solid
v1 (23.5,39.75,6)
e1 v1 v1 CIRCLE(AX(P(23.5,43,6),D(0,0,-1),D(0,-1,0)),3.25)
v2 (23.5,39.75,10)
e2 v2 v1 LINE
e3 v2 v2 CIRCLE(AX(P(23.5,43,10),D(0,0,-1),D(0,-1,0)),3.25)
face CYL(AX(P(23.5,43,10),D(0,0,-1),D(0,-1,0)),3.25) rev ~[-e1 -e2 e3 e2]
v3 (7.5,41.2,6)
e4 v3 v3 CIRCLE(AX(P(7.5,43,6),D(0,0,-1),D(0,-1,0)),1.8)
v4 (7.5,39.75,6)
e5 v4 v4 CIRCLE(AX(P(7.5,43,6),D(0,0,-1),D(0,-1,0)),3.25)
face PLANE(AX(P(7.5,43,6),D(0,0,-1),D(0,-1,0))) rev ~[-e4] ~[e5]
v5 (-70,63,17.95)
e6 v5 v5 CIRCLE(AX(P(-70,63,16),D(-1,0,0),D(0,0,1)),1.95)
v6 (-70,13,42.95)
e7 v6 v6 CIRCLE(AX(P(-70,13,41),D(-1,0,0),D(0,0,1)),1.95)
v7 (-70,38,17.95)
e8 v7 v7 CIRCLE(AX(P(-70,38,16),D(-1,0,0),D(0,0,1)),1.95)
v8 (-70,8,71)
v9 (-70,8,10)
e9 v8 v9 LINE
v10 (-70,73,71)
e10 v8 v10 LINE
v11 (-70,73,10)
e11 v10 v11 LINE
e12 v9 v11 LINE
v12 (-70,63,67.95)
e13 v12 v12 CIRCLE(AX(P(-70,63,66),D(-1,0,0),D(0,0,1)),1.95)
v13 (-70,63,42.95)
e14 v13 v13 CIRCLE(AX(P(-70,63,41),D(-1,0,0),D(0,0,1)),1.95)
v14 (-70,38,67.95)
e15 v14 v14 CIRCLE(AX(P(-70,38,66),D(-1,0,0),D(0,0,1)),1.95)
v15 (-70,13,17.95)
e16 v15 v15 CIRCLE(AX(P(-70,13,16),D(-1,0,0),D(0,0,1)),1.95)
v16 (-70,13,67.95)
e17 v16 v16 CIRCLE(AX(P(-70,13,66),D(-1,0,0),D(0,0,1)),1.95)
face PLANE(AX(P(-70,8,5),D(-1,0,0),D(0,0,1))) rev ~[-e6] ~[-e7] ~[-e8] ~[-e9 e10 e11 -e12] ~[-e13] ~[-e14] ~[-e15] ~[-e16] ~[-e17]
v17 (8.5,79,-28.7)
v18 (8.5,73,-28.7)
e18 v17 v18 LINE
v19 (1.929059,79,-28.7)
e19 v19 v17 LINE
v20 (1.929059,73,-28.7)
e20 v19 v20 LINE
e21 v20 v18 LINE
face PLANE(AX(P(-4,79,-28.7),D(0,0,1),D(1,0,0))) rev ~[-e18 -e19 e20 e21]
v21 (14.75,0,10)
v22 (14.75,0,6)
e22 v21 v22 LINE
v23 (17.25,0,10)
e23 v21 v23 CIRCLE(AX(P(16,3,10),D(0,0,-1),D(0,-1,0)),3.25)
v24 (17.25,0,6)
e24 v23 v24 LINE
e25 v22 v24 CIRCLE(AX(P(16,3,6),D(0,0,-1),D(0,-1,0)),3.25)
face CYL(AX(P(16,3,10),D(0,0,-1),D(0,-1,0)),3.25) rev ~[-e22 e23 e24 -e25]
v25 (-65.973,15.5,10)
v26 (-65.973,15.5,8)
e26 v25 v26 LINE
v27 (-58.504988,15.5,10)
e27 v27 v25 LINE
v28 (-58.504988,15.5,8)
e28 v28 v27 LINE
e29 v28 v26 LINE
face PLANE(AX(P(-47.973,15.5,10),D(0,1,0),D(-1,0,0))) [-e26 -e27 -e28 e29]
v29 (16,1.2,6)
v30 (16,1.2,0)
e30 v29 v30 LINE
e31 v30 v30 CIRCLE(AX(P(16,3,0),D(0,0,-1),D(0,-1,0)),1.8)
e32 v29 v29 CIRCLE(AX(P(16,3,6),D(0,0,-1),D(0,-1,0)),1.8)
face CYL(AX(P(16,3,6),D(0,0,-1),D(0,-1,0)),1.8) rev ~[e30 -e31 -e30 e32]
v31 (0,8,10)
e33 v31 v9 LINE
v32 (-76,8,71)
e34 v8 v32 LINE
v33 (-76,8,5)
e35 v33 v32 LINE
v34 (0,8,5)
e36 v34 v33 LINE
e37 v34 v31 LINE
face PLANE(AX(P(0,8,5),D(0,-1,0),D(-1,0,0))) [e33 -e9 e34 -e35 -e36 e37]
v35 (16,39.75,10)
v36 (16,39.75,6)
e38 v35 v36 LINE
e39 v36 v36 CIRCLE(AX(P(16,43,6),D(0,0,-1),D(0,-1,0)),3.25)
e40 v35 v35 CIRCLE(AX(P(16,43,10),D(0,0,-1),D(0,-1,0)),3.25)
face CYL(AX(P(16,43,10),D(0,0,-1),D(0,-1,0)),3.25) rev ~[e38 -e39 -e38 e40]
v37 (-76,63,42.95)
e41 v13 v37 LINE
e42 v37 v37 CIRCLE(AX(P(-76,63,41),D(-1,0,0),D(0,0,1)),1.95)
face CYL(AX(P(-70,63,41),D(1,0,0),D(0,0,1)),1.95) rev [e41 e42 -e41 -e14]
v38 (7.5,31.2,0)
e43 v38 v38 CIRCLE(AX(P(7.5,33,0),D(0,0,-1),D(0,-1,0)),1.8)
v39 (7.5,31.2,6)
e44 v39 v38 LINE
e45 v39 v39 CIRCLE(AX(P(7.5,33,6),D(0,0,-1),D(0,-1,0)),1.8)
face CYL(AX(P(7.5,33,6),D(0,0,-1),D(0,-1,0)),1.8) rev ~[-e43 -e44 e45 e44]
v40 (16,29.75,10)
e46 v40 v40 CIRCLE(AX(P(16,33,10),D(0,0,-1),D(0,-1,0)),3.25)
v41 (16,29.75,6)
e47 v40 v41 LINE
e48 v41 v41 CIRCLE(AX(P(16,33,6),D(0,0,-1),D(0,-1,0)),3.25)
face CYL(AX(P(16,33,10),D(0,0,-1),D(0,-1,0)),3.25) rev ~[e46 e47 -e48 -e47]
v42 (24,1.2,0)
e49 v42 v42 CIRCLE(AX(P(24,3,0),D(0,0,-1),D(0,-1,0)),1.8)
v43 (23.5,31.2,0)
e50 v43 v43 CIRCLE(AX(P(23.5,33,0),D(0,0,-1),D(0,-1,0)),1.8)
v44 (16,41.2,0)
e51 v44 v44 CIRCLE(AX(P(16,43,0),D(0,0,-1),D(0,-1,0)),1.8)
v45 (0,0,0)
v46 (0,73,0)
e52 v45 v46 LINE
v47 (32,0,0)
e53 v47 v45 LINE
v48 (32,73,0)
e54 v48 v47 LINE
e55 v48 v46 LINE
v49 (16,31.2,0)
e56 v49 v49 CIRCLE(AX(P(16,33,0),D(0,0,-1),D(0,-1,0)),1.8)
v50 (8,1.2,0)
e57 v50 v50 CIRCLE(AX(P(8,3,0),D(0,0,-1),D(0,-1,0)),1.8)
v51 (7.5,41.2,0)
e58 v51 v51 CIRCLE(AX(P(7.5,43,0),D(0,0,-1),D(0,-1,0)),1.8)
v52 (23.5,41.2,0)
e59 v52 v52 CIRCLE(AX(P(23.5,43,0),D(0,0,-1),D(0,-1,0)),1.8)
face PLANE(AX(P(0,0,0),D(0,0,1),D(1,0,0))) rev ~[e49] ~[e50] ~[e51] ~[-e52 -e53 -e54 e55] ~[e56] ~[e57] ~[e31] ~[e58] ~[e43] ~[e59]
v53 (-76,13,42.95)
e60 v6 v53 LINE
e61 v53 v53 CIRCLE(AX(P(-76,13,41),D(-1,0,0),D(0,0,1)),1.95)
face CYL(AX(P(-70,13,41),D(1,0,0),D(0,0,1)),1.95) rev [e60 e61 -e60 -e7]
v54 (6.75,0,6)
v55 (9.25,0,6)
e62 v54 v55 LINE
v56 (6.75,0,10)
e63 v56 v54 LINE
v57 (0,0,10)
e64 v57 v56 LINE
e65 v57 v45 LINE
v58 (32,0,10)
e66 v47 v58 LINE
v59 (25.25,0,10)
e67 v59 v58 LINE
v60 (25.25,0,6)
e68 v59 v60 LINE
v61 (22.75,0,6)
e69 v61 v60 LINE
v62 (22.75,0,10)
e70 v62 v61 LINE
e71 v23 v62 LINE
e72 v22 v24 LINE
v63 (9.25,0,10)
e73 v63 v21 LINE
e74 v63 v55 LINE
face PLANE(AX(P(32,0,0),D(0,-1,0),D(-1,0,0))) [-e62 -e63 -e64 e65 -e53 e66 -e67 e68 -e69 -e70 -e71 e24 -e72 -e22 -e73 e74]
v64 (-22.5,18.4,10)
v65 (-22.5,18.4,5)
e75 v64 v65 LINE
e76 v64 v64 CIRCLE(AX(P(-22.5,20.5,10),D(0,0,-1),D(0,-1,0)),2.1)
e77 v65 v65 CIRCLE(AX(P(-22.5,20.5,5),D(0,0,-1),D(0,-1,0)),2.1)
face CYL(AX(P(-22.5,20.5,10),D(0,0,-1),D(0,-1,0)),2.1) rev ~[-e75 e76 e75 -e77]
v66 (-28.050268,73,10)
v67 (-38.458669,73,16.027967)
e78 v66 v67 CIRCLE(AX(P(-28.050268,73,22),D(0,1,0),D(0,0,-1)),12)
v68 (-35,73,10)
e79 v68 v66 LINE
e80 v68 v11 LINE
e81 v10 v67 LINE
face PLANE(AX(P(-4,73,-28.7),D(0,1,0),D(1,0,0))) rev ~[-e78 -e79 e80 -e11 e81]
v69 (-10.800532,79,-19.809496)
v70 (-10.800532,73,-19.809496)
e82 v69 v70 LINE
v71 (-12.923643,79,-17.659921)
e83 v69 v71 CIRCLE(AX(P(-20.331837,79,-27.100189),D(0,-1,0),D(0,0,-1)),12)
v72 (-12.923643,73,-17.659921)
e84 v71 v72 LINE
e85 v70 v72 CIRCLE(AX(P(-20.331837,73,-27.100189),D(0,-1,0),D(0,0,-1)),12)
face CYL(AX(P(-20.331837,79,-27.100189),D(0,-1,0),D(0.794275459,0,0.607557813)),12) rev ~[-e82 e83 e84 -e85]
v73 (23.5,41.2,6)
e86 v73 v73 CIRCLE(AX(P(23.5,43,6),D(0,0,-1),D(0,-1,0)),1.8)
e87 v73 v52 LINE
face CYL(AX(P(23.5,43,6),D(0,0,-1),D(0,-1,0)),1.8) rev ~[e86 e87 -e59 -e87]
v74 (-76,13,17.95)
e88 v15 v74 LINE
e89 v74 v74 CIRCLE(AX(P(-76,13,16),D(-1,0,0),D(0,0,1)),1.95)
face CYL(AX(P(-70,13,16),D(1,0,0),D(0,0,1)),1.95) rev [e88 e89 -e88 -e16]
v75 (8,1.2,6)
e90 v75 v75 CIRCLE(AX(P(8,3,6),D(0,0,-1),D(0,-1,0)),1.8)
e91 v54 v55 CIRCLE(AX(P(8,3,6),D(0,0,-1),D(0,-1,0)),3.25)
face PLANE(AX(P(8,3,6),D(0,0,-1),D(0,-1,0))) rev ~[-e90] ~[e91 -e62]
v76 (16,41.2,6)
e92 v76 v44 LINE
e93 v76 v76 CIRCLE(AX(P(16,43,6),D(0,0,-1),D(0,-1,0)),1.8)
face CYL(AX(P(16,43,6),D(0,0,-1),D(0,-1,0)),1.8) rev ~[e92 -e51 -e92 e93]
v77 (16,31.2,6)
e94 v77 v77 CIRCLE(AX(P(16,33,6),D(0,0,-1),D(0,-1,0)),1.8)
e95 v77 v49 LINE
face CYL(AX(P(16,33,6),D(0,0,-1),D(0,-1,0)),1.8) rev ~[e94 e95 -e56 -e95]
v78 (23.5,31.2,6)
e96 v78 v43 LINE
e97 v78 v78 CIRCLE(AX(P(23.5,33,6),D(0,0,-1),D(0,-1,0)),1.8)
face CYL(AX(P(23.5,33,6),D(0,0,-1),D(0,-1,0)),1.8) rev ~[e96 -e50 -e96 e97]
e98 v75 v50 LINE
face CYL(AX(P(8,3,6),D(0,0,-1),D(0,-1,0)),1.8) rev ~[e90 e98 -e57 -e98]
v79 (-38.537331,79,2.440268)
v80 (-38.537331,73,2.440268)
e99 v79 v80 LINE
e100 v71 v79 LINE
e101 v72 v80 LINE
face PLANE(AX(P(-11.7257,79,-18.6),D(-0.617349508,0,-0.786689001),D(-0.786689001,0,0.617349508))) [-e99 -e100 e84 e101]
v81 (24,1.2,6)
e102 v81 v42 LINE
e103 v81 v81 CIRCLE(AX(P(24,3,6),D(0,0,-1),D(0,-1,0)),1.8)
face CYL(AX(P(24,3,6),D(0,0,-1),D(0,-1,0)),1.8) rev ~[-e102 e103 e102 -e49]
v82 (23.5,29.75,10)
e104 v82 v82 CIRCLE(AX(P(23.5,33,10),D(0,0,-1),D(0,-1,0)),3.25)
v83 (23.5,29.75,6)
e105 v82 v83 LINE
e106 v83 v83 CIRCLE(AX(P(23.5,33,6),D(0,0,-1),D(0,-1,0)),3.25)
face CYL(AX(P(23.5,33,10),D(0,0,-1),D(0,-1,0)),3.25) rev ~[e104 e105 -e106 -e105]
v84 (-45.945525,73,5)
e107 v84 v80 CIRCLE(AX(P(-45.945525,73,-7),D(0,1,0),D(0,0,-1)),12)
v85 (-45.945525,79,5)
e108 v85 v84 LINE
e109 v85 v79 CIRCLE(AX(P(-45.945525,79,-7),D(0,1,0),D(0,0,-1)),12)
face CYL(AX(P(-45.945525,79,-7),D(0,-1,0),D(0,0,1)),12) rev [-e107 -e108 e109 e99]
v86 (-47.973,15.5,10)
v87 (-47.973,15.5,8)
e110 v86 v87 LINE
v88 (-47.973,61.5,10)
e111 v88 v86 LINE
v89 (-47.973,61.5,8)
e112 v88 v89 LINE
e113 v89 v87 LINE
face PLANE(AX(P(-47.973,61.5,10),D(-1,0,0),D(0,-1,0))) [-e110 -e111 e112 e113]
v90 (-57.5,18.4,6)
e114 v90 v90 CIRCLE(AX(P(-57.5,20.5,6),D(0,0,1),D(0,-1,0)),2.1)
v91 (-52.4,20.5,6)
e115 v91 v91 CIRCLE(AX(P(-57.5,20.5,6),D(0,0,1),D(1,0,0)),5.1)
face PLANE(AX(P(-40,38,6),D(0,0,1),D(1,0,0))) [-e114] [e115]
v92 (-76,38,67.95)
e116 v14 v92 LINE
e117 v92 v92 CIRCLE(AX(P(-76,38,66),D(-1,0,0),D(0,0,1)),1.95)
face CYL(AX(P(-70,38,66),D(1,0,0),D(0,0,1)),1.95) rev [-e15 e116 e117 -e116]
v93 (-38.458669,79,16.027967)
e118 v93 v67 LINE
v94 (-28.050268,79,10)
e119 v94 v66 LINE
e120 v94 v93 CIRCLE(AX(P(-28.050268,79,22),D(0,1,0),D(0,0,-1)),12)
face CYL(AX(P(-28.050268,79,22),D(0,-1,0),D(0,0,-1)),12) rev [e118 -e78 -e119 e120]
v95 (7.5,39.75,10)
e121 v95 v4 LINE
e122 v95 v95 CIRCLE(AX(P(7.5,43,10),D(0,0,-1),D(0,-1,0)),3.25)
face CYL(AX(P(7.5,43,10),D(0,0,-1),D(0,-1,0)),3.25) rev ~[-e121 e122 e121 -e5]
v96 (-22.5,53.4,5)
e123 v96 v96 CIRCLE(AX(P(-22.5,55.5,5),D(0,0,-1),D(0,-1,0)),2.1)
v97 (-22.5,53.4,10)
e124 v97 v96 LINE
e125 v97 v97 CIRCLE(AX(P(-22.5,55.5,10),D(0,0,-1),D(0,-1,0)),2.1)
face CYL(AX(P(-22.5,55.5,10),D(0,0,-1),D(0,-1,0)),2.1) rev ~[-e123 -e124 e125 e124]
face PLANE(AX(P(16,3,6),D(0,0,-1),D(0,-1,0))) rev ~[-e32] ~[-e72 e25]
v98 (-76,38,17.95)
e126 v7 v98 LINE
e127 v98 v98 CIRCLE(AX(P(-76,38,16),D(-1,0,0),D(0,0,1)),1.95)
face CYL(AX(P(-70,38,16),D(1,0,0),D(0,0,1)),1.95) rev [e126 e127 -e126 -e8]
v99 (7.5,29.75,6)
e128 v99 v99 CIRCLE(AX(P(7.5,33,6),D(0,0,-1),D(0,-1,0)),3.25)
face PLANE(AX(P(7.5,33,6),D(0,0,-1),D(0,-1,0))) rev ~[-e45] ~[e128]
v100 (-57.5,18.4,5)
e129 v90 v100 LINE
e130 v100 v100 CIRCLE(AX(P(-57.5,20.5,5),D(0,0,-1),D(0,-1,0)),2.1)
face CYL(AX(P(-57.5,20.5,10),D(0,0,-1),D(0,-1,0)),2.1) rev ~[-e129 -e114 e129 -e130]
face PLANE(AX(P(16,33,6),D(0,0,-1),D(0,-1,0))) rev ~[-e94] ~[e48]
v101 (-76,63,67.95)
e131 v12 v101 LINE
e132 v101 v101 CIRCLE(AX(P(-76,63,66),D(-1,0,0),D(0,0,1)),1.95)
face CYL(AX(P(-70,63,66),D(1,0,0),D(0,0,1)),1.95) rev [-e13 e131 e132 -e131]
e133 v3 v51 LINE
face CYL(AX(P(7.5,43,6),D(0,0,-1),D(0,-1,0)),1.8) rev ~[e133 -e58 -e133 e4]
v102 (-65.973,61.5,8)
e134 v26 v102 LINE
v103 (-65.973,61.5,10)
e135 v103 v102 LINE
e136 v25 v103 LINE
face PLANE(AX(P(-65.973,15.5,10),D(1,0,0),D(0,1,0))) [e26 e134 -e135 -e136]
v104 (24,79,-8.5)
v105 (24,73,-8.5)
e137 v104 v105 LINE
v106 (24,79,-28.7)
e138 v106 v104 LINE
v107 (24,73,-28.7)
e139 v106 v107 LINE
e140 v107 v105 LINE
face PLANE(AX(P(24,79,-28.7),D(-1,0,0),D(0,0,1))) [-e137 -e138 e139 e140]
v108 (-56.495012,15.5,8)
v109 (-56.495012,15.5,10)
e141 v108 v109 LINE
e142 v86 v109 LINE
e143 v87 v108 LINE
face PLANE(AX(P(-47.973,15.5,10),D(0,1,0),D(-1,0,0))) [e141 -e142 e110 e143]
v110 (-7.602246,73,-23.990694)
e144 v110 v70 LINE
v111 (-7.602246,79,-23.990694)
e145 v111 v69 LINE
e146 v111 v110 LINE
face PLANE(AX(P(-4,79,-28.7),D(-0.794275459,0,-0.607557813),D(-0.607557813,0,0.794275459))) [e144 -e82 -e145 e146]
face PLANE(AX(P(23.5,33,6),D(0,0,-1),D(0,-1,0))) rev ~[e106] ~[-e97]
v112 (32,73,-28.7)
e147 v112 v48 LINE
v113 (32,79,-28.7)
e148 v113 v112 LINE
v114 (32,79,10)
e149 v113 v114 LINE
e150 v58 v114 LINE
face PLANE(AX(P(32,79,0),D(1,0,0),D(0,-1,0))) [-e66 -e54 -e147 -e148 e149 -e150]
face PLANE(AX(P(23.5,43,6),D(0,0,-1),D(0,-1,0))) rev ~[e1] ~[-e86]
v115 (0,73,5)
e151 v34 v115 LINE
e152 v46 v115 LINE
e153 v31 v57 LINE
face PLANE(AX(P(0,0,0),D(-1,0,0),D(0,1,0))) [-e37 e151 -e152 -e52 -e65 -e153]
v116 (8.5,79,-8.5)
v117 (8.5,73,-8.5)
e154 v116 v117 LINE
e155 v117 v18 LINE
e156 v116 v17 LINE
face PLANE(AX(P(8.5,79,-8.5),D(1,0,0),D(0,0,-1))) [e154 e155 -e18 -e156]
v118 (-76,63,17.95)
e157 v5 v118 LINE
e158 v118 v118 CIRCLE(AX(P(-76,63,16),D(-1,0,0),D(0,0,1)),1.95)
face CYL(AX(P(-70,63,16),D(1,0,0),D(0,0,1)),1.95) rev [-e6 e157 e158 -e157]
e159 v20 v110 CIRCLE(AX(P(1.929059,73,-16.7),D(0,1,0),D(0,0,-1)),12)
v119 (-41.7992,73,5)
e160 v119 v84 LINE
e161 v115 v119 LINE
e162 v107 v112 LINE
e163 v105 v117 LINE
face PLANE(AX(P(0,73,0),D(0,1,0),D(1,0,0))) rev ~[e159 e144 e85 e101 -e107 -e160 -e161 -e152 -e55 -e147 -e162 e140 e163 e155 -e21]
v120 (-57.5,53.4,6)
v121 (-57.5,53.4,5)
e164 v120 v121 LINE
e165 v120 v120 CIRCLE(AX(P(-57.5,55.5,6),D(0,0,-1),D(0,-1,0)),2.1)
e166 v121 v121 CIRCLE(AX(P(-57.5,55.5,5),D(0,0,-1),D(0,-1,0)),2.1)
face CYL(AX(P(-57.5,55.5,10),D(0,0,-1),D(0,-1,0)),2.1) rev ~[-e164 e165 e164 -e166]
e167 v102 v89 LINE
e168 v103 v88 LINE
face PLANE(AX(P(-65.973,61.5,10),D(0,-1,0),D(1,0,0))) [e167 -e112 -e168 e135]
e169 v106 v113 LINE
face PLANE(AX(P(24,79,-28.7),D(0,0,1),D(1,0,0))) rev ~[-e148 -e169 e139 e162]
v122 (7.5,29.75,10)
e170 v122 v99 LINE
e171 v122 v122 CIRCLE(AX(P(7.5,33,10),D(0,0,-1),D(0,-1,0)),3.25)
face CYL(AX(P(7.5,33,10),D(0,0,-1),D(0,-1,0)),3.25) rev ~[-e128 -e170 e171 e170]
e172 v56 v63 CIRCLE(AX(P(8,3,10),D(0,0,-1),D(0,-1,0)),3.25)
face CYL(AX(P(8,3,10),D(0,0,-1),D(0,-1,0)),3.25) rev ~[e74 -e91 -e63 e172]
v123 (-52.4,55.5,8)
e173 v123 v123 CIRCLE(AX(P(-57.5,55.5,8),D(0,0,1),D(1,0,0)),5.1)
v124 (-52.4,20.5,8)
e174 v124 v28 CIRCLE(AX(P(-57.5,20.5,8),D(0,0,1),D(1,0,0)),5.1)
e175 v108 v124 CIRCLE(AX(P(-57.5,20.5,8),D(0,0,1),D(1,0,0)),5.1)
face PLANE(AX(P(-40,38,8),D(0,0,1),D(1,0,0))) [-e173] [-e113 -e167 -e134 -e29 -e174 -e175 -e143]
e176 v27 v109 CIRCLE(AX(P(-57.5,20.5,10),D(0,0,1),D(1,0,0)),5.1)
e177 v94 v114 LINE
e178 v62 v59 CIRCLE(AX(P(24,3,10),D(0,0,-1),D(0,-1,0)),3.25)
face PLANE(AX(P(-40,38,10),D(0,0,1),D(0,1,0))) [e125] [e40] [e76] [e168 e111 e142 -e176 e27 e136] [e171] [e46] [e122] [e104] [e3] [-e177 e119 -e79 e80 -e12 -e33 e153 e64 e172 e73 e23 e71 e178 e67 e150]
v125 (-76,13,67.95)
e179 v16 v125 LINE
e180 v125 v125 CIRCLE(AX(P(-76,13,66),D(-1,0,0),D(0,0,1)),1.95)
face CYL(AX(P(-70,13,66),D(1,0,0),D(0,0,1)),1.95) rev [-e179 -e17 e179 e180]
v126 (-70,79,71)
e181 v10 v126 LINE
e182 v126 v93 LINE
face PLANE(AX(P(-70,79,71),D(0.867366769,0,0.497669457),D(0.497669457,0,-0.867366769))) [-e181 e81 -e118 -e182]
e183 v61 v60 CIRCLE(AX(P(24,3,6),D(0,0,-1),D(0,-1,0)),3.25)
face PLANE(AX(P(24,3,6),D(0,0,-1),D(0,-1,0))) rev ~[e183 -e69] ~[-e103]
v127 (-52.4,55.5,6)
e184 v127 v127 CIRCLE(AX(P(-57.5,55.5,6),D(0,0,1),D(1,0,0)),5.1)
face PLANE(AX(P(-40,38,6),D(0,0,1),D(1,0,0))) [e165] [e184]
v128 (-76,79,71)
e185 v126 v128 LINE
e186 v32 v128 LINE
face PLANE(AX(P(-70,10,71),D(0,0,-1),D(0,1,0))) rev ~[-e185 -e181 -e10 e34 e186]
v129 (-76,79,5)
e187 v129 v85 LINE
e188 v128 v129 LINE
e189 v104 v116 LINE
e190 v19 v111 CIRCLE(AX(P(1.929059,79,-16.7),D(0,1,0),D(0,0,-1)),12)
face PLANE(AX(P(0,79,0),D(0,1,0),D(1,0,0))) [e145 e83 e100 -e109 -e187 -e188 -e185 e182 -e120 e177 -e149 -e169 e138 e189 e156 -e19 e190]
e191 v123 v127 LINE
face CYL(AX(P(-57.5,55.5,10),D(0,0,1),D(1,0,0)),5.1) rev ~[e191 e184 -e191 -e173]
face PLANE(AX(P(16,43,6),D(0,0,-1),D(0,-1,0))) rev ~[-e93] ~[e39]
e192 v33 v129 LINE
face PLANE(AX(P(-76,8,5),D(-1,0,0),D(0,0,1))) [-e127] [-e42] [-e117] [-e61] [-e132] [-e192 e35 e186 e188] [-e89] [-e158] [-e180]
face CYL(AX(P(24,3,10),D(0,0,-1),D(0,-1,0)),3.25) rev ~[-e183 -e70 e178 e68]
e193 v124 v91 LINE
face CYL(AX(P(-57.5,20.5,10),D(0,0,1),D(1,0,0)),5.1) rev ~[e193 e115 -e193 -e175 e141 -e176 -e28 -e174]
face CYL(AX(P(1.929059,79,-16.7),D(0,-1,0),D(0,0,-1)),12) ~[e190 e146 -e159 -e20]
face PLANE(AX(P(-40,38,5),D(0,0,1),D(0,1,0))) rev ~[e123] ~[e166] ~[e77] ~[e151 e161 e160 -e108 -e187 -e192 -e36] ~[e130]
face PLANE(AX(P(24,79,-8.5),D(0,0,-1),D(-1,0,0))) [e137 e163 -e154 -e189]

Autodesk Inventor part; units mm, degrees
ref_plane "YZ Plane" through (0, 0, 0) normal (1, 0, 0) x (0, 1, 0)
ref_plane "XZ Plane" through (0, 0, 0) normal (0, 1, 0) x (-1, 0, 0)
ref_plane "Work Plane1" through (0, 0, 0) normal (0, 0, 1) x (1, 0, 0)
sketch "Sketch1" plane through (0, 0, 0) normal (0, 0, 1) x (1, 0, 0)
  circle A0 centre (23.5, 33) radius 1 construction
  circle A1 centre (23.5, 43) radius 1 construction
  circle A2 centre (24, 3) radius 1 construction
  circle A3 centre (8, 3) radius 1 construction
  circle A4 centre (16, 33) radius 1 construction
  circle A5 centre (16, 43) radius 1 construction
  circle A6 centre (7.5, 43) radius 1 construction
  circle A7 centre (7.5, 33) radius 1.0474 construction
  circle A8 centre (16, 3) radius 1 construction
  line L0 (32, 0) -> (0, 0) construction
  line L1 (32, 0) -> (32, 48) construction
  line L2 (0, 48) -> (32, 48) construction
  line L3 (0, 0) -> (0, 48) construction
  line L4 (7.5277, 79) -> (26, 79) construction
  line L5 (26, 78) -> (7.5277, 78) construction
  line L6 (32, 0) -> (0, 0)
  line L7 (0, 0) -> (0, 79)
  line L8 (0, 79) -> (32, 79)
  line L9 (32, 79) -> (32, 0)
ref_plane "Work Plane2" through (-70, 8, 5) normal (0, 0, 1) x (1, 0, 0)
extrude "Extrusion1" add sketch "Sketch1" along normal up to surface (5 mm away)
ref_plane "Work Plane3" through (-40, 38, 5) normal (0, 0, 1) x (0, 1, 0)
sketch "Sketch2" plane through (-40, 38, 5) normal (0, 0, 1) x (0, 1, 0)
  line L0 (28, 30) -> (30, 28) construction
  line L1 (28, 30) -> (-28, 30) construction
  line L2 (-30, 28) -> (-28, 30) construction
  line L3 (-30, 28) -> (-30, -28) construction
  line L4 (-28, -30) -> (-30, -28) construction
  line L5 (-28, -30) -> (28, -30) construction
  line L6 (30, -28) -> (28, -30) construction
  line L7 (30, -28) -> (30, 28) construction
  circle A0 centre (-17.5, -17.5) radius 1.95 construction
  circle A1 centre (17.5, 17.5) radius 1.95 construction
  circle A2 centre (17.5, -17.5) radius 1.95 construction
  circle A3 centre (-17.5, 17.5) radius 1.95 construction
  circle A4 centre (0, 0) radius 7.5 construction
  line L8 (-38, -40) -> (41, -40) construction
  line L9 (-38, -72) -> (-38, -40) construction
  line L10 (41, -72) -> (-38, -72) construction
  line L11 (41, -40) -> (41, -72) construction
  line L12 (41, -40) -> (-30, -40)
  line L13 (-30, -40) -> (-30, 30)
  line L14 (-30, 30) -> (41, 30)
  line L15 (41, 30) -> (41, -40)
  line L16 (41, -72) -> (-38, -72) projected
  line L17 (41, -40) -> (-38, -40)
  line L18 (-38, -40) -> (-38, -72)
  line L19 (-38, -72) -> (41, -72)
  line L20 (41, -72) -> (41, -40)
  point P0 (-38, -40)
  point P1 (41, -50.5)
extrude "Extrusion2" add sketch "Sketch2" along normal blind 5
sketch "Sketch3" plane through (-40, 38, 10) normal (0, 0, 1) x (1, 0, 0)
  line L0 (40, -30) -> (40, -38) projected
  line L1 (40, -38) -> (72, -38) projected
  line L2 (72, -38) -> (72, 41) projected
  line L3 (72, 41) -> (-30, 41) projected
  line L4 (-30, 41) -> (-30, -30) projected
  line L5 (-30, -30) -> (40, -30) projected
  circle A0 centre (48, -35) radius 1 projected
  circle A1 centre (64, -35) radius 1 projected
  circle A2 centre (63.5, 5) radius 1 projected
  circle A3 centre (63.5, -5) radius 1 projected
  circle A4 centre (47.5, -5) radius 1.0474 projected
  circle A5 centre (47.5, 5) radius 1 projected
  arc A6 (64.5499, 87.15) -> (61.0499, 90.65) centre (61.0499, 87.15) ccw projected
  line L6 (2.1699, 90.65) -> (61.0499, 90.65) projected
  arc A7 (2.1699, 90.65) -> (-1.3301, 87.15) centre (2.1699, 87.15) ccw projected
  line L7 (-1.3301, -52.85) -> (-1.3301, 87.15) projected
  arc A8 (-1.3301, -52.85) -> (2.1699, -56.35) centre (2.1699, -52.85) ccw projected
  line L8 (61.0499, -56.35) -> (2.1699, -56.35) projected
  arc A9 (61.0499, -56.35) -> (64.5499, -52.85) centre (61.0499, -52.85) ccw projected
  line L9 (64.5499, 87.15) -> (64.5499, -52.85) projected
  circle A10 centre (56, 5) radius 1 projected
  circle A11 centre (56, -5) radius 1 projected
  circle A12 centre (56, -35) radius 1 projected
  point P0 (40, -38)
hole "Hole1" at (7.5, 43, 10) at (16, 43, 10) at (23.5, 43, 10) at (23.5, 33, 10) at (16, 33, 10) at (7.5, 33, 10) at (8, 3, 10) at (16, 3, 10) at (24, 3, 10) direction (0, 0, -1) diameter 3.6 depth 12 tip angle 118 counterbore diameter 6.5 counterbore depth 4
sketch "Sketch4" plane through (-40, 38, 10) normal (0, 0, 1) x (1, 0, 0)
  line L0 (20, -20) -> (-20, -20) projected
  circle A0 centre (-17.5, -17.5) radius 1.95 projected
  circle A1 centre (17.5, -17.5) radius 1.95 projected
  circle A2 centre (17.5, 17.5) radius 1.95 projected
  circle A3 centre (-17.5, 17.5) radius 1.95 projected
  circle A4 centre (-17.5, 17.5) radius 2.1
  point P0 (40, -38)
  dimension "d11" = 4.2
hole "Hole2" at (-57.5, 55.5, 10) at (-22.5, 55.5, 10) at (-22.5, 20.5, 10) at (-57.5, 20.5, 10) direction (0, 0, -1) diameter 4.2 depth 12 tip angle 118
sketch "Sketch5" plane through (0, 79, 0) normal (0, 1, 0) x (1, 0, 0)
  arc A0 (0.1445, 27.7) -> (-0.8555, 28.7) centre (-0.8555, 27.7) ccw construction
  line L0 (-0.8555, 28.7) -> (-4, 28.7) construction
  line L1 (-4, 28.7) -> (-4, 3) construction
  line L2 (-4, 3) -> (5.5277, 3) construction
  arc A1 (5.5277, 3) -> (6.5277, 4) centre (5.5277, 4) ccw construction
  line L3 (6.5277, 4) -> (6.5277, 5.8624) construction
  arc A2 (7.5277, 6.8624) -> (6.5277, 5.8624) centre (7.5277, 5.8624) ccw construction
  line L4 (7.5277, 6.8624) -> (26, 6.8624) construction
  line L5 (26, 6.8624) -> (26, 18.397) construction
  arc A3 (27, 19.397) -> (26, 18.397) centre (27, 18.397) ccw construction
  line L6 (27, 19.397) -> (28, 19.397) construction
  arc A4 (28, 19.397) -> (29, 20.397) centre (28, 20.397) ccw construction
  line L7 (29, 20.397) -> (29, 22.9624) construction
  arc A5 (29, 22.9624) -> (28, 23.9624) centre (28, 22.9624) ccw construction
  line L8 (28, 23.9624) -> (1.1445, 23.9624) construction
  arc A6 (0.1445, 24.9624) -> (1.1445, 23.9624) centre (1.1445, 24.9624) ccw construction
  line L9 (0.1445, 24.9624) -> (0.1445, 27.7) construction
  line L10 (8.5, 22) -> (24, 22) construction
  line L11 (24, 22) -> (24, 8.5) construction
  line L12 (24, 8.5) -> (8.5, 8.5) construction
  line L13 (8.5, 8.5) -> (8.5, 22) construction
  circle A7 centre (-1.5, 26) radius 1 construction
  circle A8 centre (5, 5.5) radius 1 construction
  circle A9 centre (26.5, 21) radius 1 construction
  line L14 (32, 0) -> (32, -10) construction
  line L15 (0, 0) -> (32, 0) construction
  line L16 (0, 0) -> (0, -5) construction
  line L17 (0, -5) -> (-70, -5) construction
  line L18 (-70, -5) -> (-70, -10) construction
  line L19 (32, -10) -> (-70, -10) construction
  line L20 (32, 0) -> (-4, 0)
  line L21 (-4, 0) -> (-4, 28.7)
  line L22 (-4, 28.7) -> (32, 28.7)
  line L23 (32, 28.7) -> (32, 0)
  line L24 (-4, 0) -> (0, 0)
  line L25 (0, 0) -> (0, -5)
  line L26 (0, -5) -> (-4, -5)
  line L27 (-4, -5) -> (-4, 0)
  line L28 (8.5, 28.7) -> (24, 28.7)
  line L29 (24, 28.7) -> (24, 8.5)
  line L30 (24, 8.5) -> (8.5, 8.5)
  line L31 (8.5, 8.5) -> (8.5, 28.7)
  circle A10 centre (5, 5.5) radius 0.75
  circle A11 centre (-1.5, 26) radius 0.75
  circle A12 centre (26.5, 21) radius 0.75
  point P0 (0, 0)
  dimension "d19" = 1.5
  dimension "d20" = 1.5
  dimension "d21" = 1.5
extrude "Extrusion3" add sketch "Sketch5" against normal blind 6 contours L20 L21 L22 L31 L30 L29 L23 | L25 L26 L27 L20
sketch "Sketch6" plane through (-70, 8, 5) normal (-1, 0, 0) x (0, 0, 1)
  circle A0 centre (61, 30) radius 1.95 projected
  circle A1 centre (36, 55) radius 1.95 projected
  circle A2 centre (11, 55) radius 1.95 projected
  circle A3 centre (61, 5) radius 1.95 projected
  circle A4 centre (11, 5) radius 1.95 projected
  circle A5 centre (61, 55) radius 1.95 projected
  circle A6 centre (36, 5) radius 1.95 projected
  circle A7 centre (11, 30) radius 1.95 projected
  line L0 (66, 58) -> (64, 60) projected
  line L1 (64, 60) -> (8, 60) projected
  line L2 (8, 60) -> (6, 58) projected
  line L3 (6, 58) -> (6, 2) projected
  line L4 (6, 2) -> (8, 0) projected
  line L5 (8, 0) -> (64, 0) projected
  line L6 (64, 0) -> (66, 2) projected
  line L7 (66, 2) -> (66, 58) projected
  line L8 (0, 71) -> (0, 0) projected
  line L9 (0, 0) -> (5, 0) projected
  line L10 (5, 71) -> (5, 0) projected
  line L11 (0, 71) -> (5, 71) projected
  line L12 (66, 0) -> (0, 0)
  line L13 (0, 0) -> (0, 71)
  line L14 (0, 71) -> (66, 71)
  line L15 (66, 71) -> (66, 0)
  point P0 (-5, -8)
extrude "Extrusion4" add sketch "Sketch6" along normal blind 6
sketch "Sketch7" plane through (-4, 79, -28.7) normal (0, 1, 0) x (1, 0, 0)
  circle A0 centre (9, -23.2) radius 0.75 projected
  circle A1 centre (2.5, -2.7) radius 0.75 projected
  circle A2 centre (30.5, -7.7) radius 0.75 projected
  line L0 (36, -38.7) -> (36, 0) projected
  line L1 (36, 0) -> (28, 0) projected
  line L2 (28, 0) -> (28, -20.2) projected
  line L3 (28, -20.2) -> (12.5, -20.2) projected
  line L4 (12.5, -20.2) -> (12.5, 0) projected
  line L5 (12.5, 0) -> (0, 0) projected
  line L6 (0, 0) -> (0, -33.7) projected
  line L7 (0, -33.7) -> (-72, -33.7) projected
  line L8 (-72, -99.7) -> (-72, -33.7) projected
  line L9 (-66, -99.7) -> (-72, -99.7) projected
  line L10 (-66, -99.7) -> (-66, -38.7) projected
  line L11 (36, -38.7) -> (-66, -38.7) projected
  line L12 (-66, -99.7) -> (-72, -99.7) projected
  line L13 (-66, -99.7) -> (-31, -38.7)
  line L14 (-66, -38.7) -> (4, -38.7) projected
  line L15 (0, 0) -> (0, -33.7) projected
  line L16 (0, -33.7) -> (-72, -33.7) projected
  line L17 (-28.1311, -33.7) -> (0, -33.7)
  line L18 (0, -33.7) -> (0, 0)
  line L19 (-37.7992, -33.7) -> (-28.1311, -33.7)
  line L20 (0, -33.7) -> (0, 0) projected
  line L21 (0, 0) -> (-7.7257, -10.1)
  line L22 (-7.7257, -10.1) -> (-37.7992, -33.7)
  point P0 (4, -28.7)
extrude "Extrusion5" add sketch "Sketch7" against normal blind 6 contours A0 | A1 | A2 | L11 L10 L9 L8 L7 L6 L5 L4 L3 L2 L1 L0 | L13 L10 L11 | L6 L7 L22 L21
sketch "Sketch8" plane through (-40, 38, 10) normal (0, 0, 1) x (1, 0, 0)
  line L0 (0, 28) -> (-10, 28) construction
  line L1 (0, -28) -> (0, 28) construction
  line L2 (-10, -28) -> (0, -28) construction
  line L3 (-10, -28) -> (-10, 28) construction
  line L4 (-10, -28) -> (-10, 28) construction
  line L5 (-10, -28) -> (-20, -28) construction
  line L6 (-20, 28) -> (-20, -28) construction
  line L7 (-10, 28) -> (-20, 28) construction
  circle A0 centre (-17.5, -17.5) radius 2.1 projected
  circle A1 centre (-17.5, 17.5) radius 2.1 projected
  circle A2 centre (-17.5, -17.5) radius 5.1
  circle A3 centre (-17.5, 17.5) radius 5.1
  point P0 (40, -38)
  dimension "d28" = 3
  dimension "d29" = 3
extrude "Extrusion6" cut sketch "Sketch8" against normal blind 4 contours A1 | A2 | A3
sketch "Sketch9" plane through (-40, 38, 10) normal (0, 0, 1) x (1, 0, 0)
  line L0 (-29.973, -22.5) -> (-7.973, -22.5) construction
  line L1 (-7.973, -22.5) -> (-7.973, 23.5) construction
  line L2 (-7.973, 23.5) -> (-29.973, 23.5) construction
  line L3 (-29.973, 23.5) -> (-29.973, -22.5) construction
  line L4 (-30, -30) -> (40, -30) construction
  line L5 (-7.973, -22.5) -> (-25.973, -22.5)
  line L6 (-25.973, -22.5) -> (-25.973, 23.5)
  line L7 (-25.973, 23.5) -> (-7.973, 23.5)
  line L8 (-7.973, 23.5) -> (-7.973, -22.5)
  point P0 (40, -38)
  dimension "d32" = 22
  dimension "d33" = 46
  dimension "d34" = 7.5
  dimension "d35" = 18
extrude "Extrusion7" cut sketch "Sketch9" against normal blind 2
fillet "Fillet1" radius 12 4 edges at (-35, 76, 10) (-41.7992, 76, 5) (-11.7257, 76, -18.6) (-4, 76, -28.7)
properties part number "cellSTORM_Lasermount_v0"
